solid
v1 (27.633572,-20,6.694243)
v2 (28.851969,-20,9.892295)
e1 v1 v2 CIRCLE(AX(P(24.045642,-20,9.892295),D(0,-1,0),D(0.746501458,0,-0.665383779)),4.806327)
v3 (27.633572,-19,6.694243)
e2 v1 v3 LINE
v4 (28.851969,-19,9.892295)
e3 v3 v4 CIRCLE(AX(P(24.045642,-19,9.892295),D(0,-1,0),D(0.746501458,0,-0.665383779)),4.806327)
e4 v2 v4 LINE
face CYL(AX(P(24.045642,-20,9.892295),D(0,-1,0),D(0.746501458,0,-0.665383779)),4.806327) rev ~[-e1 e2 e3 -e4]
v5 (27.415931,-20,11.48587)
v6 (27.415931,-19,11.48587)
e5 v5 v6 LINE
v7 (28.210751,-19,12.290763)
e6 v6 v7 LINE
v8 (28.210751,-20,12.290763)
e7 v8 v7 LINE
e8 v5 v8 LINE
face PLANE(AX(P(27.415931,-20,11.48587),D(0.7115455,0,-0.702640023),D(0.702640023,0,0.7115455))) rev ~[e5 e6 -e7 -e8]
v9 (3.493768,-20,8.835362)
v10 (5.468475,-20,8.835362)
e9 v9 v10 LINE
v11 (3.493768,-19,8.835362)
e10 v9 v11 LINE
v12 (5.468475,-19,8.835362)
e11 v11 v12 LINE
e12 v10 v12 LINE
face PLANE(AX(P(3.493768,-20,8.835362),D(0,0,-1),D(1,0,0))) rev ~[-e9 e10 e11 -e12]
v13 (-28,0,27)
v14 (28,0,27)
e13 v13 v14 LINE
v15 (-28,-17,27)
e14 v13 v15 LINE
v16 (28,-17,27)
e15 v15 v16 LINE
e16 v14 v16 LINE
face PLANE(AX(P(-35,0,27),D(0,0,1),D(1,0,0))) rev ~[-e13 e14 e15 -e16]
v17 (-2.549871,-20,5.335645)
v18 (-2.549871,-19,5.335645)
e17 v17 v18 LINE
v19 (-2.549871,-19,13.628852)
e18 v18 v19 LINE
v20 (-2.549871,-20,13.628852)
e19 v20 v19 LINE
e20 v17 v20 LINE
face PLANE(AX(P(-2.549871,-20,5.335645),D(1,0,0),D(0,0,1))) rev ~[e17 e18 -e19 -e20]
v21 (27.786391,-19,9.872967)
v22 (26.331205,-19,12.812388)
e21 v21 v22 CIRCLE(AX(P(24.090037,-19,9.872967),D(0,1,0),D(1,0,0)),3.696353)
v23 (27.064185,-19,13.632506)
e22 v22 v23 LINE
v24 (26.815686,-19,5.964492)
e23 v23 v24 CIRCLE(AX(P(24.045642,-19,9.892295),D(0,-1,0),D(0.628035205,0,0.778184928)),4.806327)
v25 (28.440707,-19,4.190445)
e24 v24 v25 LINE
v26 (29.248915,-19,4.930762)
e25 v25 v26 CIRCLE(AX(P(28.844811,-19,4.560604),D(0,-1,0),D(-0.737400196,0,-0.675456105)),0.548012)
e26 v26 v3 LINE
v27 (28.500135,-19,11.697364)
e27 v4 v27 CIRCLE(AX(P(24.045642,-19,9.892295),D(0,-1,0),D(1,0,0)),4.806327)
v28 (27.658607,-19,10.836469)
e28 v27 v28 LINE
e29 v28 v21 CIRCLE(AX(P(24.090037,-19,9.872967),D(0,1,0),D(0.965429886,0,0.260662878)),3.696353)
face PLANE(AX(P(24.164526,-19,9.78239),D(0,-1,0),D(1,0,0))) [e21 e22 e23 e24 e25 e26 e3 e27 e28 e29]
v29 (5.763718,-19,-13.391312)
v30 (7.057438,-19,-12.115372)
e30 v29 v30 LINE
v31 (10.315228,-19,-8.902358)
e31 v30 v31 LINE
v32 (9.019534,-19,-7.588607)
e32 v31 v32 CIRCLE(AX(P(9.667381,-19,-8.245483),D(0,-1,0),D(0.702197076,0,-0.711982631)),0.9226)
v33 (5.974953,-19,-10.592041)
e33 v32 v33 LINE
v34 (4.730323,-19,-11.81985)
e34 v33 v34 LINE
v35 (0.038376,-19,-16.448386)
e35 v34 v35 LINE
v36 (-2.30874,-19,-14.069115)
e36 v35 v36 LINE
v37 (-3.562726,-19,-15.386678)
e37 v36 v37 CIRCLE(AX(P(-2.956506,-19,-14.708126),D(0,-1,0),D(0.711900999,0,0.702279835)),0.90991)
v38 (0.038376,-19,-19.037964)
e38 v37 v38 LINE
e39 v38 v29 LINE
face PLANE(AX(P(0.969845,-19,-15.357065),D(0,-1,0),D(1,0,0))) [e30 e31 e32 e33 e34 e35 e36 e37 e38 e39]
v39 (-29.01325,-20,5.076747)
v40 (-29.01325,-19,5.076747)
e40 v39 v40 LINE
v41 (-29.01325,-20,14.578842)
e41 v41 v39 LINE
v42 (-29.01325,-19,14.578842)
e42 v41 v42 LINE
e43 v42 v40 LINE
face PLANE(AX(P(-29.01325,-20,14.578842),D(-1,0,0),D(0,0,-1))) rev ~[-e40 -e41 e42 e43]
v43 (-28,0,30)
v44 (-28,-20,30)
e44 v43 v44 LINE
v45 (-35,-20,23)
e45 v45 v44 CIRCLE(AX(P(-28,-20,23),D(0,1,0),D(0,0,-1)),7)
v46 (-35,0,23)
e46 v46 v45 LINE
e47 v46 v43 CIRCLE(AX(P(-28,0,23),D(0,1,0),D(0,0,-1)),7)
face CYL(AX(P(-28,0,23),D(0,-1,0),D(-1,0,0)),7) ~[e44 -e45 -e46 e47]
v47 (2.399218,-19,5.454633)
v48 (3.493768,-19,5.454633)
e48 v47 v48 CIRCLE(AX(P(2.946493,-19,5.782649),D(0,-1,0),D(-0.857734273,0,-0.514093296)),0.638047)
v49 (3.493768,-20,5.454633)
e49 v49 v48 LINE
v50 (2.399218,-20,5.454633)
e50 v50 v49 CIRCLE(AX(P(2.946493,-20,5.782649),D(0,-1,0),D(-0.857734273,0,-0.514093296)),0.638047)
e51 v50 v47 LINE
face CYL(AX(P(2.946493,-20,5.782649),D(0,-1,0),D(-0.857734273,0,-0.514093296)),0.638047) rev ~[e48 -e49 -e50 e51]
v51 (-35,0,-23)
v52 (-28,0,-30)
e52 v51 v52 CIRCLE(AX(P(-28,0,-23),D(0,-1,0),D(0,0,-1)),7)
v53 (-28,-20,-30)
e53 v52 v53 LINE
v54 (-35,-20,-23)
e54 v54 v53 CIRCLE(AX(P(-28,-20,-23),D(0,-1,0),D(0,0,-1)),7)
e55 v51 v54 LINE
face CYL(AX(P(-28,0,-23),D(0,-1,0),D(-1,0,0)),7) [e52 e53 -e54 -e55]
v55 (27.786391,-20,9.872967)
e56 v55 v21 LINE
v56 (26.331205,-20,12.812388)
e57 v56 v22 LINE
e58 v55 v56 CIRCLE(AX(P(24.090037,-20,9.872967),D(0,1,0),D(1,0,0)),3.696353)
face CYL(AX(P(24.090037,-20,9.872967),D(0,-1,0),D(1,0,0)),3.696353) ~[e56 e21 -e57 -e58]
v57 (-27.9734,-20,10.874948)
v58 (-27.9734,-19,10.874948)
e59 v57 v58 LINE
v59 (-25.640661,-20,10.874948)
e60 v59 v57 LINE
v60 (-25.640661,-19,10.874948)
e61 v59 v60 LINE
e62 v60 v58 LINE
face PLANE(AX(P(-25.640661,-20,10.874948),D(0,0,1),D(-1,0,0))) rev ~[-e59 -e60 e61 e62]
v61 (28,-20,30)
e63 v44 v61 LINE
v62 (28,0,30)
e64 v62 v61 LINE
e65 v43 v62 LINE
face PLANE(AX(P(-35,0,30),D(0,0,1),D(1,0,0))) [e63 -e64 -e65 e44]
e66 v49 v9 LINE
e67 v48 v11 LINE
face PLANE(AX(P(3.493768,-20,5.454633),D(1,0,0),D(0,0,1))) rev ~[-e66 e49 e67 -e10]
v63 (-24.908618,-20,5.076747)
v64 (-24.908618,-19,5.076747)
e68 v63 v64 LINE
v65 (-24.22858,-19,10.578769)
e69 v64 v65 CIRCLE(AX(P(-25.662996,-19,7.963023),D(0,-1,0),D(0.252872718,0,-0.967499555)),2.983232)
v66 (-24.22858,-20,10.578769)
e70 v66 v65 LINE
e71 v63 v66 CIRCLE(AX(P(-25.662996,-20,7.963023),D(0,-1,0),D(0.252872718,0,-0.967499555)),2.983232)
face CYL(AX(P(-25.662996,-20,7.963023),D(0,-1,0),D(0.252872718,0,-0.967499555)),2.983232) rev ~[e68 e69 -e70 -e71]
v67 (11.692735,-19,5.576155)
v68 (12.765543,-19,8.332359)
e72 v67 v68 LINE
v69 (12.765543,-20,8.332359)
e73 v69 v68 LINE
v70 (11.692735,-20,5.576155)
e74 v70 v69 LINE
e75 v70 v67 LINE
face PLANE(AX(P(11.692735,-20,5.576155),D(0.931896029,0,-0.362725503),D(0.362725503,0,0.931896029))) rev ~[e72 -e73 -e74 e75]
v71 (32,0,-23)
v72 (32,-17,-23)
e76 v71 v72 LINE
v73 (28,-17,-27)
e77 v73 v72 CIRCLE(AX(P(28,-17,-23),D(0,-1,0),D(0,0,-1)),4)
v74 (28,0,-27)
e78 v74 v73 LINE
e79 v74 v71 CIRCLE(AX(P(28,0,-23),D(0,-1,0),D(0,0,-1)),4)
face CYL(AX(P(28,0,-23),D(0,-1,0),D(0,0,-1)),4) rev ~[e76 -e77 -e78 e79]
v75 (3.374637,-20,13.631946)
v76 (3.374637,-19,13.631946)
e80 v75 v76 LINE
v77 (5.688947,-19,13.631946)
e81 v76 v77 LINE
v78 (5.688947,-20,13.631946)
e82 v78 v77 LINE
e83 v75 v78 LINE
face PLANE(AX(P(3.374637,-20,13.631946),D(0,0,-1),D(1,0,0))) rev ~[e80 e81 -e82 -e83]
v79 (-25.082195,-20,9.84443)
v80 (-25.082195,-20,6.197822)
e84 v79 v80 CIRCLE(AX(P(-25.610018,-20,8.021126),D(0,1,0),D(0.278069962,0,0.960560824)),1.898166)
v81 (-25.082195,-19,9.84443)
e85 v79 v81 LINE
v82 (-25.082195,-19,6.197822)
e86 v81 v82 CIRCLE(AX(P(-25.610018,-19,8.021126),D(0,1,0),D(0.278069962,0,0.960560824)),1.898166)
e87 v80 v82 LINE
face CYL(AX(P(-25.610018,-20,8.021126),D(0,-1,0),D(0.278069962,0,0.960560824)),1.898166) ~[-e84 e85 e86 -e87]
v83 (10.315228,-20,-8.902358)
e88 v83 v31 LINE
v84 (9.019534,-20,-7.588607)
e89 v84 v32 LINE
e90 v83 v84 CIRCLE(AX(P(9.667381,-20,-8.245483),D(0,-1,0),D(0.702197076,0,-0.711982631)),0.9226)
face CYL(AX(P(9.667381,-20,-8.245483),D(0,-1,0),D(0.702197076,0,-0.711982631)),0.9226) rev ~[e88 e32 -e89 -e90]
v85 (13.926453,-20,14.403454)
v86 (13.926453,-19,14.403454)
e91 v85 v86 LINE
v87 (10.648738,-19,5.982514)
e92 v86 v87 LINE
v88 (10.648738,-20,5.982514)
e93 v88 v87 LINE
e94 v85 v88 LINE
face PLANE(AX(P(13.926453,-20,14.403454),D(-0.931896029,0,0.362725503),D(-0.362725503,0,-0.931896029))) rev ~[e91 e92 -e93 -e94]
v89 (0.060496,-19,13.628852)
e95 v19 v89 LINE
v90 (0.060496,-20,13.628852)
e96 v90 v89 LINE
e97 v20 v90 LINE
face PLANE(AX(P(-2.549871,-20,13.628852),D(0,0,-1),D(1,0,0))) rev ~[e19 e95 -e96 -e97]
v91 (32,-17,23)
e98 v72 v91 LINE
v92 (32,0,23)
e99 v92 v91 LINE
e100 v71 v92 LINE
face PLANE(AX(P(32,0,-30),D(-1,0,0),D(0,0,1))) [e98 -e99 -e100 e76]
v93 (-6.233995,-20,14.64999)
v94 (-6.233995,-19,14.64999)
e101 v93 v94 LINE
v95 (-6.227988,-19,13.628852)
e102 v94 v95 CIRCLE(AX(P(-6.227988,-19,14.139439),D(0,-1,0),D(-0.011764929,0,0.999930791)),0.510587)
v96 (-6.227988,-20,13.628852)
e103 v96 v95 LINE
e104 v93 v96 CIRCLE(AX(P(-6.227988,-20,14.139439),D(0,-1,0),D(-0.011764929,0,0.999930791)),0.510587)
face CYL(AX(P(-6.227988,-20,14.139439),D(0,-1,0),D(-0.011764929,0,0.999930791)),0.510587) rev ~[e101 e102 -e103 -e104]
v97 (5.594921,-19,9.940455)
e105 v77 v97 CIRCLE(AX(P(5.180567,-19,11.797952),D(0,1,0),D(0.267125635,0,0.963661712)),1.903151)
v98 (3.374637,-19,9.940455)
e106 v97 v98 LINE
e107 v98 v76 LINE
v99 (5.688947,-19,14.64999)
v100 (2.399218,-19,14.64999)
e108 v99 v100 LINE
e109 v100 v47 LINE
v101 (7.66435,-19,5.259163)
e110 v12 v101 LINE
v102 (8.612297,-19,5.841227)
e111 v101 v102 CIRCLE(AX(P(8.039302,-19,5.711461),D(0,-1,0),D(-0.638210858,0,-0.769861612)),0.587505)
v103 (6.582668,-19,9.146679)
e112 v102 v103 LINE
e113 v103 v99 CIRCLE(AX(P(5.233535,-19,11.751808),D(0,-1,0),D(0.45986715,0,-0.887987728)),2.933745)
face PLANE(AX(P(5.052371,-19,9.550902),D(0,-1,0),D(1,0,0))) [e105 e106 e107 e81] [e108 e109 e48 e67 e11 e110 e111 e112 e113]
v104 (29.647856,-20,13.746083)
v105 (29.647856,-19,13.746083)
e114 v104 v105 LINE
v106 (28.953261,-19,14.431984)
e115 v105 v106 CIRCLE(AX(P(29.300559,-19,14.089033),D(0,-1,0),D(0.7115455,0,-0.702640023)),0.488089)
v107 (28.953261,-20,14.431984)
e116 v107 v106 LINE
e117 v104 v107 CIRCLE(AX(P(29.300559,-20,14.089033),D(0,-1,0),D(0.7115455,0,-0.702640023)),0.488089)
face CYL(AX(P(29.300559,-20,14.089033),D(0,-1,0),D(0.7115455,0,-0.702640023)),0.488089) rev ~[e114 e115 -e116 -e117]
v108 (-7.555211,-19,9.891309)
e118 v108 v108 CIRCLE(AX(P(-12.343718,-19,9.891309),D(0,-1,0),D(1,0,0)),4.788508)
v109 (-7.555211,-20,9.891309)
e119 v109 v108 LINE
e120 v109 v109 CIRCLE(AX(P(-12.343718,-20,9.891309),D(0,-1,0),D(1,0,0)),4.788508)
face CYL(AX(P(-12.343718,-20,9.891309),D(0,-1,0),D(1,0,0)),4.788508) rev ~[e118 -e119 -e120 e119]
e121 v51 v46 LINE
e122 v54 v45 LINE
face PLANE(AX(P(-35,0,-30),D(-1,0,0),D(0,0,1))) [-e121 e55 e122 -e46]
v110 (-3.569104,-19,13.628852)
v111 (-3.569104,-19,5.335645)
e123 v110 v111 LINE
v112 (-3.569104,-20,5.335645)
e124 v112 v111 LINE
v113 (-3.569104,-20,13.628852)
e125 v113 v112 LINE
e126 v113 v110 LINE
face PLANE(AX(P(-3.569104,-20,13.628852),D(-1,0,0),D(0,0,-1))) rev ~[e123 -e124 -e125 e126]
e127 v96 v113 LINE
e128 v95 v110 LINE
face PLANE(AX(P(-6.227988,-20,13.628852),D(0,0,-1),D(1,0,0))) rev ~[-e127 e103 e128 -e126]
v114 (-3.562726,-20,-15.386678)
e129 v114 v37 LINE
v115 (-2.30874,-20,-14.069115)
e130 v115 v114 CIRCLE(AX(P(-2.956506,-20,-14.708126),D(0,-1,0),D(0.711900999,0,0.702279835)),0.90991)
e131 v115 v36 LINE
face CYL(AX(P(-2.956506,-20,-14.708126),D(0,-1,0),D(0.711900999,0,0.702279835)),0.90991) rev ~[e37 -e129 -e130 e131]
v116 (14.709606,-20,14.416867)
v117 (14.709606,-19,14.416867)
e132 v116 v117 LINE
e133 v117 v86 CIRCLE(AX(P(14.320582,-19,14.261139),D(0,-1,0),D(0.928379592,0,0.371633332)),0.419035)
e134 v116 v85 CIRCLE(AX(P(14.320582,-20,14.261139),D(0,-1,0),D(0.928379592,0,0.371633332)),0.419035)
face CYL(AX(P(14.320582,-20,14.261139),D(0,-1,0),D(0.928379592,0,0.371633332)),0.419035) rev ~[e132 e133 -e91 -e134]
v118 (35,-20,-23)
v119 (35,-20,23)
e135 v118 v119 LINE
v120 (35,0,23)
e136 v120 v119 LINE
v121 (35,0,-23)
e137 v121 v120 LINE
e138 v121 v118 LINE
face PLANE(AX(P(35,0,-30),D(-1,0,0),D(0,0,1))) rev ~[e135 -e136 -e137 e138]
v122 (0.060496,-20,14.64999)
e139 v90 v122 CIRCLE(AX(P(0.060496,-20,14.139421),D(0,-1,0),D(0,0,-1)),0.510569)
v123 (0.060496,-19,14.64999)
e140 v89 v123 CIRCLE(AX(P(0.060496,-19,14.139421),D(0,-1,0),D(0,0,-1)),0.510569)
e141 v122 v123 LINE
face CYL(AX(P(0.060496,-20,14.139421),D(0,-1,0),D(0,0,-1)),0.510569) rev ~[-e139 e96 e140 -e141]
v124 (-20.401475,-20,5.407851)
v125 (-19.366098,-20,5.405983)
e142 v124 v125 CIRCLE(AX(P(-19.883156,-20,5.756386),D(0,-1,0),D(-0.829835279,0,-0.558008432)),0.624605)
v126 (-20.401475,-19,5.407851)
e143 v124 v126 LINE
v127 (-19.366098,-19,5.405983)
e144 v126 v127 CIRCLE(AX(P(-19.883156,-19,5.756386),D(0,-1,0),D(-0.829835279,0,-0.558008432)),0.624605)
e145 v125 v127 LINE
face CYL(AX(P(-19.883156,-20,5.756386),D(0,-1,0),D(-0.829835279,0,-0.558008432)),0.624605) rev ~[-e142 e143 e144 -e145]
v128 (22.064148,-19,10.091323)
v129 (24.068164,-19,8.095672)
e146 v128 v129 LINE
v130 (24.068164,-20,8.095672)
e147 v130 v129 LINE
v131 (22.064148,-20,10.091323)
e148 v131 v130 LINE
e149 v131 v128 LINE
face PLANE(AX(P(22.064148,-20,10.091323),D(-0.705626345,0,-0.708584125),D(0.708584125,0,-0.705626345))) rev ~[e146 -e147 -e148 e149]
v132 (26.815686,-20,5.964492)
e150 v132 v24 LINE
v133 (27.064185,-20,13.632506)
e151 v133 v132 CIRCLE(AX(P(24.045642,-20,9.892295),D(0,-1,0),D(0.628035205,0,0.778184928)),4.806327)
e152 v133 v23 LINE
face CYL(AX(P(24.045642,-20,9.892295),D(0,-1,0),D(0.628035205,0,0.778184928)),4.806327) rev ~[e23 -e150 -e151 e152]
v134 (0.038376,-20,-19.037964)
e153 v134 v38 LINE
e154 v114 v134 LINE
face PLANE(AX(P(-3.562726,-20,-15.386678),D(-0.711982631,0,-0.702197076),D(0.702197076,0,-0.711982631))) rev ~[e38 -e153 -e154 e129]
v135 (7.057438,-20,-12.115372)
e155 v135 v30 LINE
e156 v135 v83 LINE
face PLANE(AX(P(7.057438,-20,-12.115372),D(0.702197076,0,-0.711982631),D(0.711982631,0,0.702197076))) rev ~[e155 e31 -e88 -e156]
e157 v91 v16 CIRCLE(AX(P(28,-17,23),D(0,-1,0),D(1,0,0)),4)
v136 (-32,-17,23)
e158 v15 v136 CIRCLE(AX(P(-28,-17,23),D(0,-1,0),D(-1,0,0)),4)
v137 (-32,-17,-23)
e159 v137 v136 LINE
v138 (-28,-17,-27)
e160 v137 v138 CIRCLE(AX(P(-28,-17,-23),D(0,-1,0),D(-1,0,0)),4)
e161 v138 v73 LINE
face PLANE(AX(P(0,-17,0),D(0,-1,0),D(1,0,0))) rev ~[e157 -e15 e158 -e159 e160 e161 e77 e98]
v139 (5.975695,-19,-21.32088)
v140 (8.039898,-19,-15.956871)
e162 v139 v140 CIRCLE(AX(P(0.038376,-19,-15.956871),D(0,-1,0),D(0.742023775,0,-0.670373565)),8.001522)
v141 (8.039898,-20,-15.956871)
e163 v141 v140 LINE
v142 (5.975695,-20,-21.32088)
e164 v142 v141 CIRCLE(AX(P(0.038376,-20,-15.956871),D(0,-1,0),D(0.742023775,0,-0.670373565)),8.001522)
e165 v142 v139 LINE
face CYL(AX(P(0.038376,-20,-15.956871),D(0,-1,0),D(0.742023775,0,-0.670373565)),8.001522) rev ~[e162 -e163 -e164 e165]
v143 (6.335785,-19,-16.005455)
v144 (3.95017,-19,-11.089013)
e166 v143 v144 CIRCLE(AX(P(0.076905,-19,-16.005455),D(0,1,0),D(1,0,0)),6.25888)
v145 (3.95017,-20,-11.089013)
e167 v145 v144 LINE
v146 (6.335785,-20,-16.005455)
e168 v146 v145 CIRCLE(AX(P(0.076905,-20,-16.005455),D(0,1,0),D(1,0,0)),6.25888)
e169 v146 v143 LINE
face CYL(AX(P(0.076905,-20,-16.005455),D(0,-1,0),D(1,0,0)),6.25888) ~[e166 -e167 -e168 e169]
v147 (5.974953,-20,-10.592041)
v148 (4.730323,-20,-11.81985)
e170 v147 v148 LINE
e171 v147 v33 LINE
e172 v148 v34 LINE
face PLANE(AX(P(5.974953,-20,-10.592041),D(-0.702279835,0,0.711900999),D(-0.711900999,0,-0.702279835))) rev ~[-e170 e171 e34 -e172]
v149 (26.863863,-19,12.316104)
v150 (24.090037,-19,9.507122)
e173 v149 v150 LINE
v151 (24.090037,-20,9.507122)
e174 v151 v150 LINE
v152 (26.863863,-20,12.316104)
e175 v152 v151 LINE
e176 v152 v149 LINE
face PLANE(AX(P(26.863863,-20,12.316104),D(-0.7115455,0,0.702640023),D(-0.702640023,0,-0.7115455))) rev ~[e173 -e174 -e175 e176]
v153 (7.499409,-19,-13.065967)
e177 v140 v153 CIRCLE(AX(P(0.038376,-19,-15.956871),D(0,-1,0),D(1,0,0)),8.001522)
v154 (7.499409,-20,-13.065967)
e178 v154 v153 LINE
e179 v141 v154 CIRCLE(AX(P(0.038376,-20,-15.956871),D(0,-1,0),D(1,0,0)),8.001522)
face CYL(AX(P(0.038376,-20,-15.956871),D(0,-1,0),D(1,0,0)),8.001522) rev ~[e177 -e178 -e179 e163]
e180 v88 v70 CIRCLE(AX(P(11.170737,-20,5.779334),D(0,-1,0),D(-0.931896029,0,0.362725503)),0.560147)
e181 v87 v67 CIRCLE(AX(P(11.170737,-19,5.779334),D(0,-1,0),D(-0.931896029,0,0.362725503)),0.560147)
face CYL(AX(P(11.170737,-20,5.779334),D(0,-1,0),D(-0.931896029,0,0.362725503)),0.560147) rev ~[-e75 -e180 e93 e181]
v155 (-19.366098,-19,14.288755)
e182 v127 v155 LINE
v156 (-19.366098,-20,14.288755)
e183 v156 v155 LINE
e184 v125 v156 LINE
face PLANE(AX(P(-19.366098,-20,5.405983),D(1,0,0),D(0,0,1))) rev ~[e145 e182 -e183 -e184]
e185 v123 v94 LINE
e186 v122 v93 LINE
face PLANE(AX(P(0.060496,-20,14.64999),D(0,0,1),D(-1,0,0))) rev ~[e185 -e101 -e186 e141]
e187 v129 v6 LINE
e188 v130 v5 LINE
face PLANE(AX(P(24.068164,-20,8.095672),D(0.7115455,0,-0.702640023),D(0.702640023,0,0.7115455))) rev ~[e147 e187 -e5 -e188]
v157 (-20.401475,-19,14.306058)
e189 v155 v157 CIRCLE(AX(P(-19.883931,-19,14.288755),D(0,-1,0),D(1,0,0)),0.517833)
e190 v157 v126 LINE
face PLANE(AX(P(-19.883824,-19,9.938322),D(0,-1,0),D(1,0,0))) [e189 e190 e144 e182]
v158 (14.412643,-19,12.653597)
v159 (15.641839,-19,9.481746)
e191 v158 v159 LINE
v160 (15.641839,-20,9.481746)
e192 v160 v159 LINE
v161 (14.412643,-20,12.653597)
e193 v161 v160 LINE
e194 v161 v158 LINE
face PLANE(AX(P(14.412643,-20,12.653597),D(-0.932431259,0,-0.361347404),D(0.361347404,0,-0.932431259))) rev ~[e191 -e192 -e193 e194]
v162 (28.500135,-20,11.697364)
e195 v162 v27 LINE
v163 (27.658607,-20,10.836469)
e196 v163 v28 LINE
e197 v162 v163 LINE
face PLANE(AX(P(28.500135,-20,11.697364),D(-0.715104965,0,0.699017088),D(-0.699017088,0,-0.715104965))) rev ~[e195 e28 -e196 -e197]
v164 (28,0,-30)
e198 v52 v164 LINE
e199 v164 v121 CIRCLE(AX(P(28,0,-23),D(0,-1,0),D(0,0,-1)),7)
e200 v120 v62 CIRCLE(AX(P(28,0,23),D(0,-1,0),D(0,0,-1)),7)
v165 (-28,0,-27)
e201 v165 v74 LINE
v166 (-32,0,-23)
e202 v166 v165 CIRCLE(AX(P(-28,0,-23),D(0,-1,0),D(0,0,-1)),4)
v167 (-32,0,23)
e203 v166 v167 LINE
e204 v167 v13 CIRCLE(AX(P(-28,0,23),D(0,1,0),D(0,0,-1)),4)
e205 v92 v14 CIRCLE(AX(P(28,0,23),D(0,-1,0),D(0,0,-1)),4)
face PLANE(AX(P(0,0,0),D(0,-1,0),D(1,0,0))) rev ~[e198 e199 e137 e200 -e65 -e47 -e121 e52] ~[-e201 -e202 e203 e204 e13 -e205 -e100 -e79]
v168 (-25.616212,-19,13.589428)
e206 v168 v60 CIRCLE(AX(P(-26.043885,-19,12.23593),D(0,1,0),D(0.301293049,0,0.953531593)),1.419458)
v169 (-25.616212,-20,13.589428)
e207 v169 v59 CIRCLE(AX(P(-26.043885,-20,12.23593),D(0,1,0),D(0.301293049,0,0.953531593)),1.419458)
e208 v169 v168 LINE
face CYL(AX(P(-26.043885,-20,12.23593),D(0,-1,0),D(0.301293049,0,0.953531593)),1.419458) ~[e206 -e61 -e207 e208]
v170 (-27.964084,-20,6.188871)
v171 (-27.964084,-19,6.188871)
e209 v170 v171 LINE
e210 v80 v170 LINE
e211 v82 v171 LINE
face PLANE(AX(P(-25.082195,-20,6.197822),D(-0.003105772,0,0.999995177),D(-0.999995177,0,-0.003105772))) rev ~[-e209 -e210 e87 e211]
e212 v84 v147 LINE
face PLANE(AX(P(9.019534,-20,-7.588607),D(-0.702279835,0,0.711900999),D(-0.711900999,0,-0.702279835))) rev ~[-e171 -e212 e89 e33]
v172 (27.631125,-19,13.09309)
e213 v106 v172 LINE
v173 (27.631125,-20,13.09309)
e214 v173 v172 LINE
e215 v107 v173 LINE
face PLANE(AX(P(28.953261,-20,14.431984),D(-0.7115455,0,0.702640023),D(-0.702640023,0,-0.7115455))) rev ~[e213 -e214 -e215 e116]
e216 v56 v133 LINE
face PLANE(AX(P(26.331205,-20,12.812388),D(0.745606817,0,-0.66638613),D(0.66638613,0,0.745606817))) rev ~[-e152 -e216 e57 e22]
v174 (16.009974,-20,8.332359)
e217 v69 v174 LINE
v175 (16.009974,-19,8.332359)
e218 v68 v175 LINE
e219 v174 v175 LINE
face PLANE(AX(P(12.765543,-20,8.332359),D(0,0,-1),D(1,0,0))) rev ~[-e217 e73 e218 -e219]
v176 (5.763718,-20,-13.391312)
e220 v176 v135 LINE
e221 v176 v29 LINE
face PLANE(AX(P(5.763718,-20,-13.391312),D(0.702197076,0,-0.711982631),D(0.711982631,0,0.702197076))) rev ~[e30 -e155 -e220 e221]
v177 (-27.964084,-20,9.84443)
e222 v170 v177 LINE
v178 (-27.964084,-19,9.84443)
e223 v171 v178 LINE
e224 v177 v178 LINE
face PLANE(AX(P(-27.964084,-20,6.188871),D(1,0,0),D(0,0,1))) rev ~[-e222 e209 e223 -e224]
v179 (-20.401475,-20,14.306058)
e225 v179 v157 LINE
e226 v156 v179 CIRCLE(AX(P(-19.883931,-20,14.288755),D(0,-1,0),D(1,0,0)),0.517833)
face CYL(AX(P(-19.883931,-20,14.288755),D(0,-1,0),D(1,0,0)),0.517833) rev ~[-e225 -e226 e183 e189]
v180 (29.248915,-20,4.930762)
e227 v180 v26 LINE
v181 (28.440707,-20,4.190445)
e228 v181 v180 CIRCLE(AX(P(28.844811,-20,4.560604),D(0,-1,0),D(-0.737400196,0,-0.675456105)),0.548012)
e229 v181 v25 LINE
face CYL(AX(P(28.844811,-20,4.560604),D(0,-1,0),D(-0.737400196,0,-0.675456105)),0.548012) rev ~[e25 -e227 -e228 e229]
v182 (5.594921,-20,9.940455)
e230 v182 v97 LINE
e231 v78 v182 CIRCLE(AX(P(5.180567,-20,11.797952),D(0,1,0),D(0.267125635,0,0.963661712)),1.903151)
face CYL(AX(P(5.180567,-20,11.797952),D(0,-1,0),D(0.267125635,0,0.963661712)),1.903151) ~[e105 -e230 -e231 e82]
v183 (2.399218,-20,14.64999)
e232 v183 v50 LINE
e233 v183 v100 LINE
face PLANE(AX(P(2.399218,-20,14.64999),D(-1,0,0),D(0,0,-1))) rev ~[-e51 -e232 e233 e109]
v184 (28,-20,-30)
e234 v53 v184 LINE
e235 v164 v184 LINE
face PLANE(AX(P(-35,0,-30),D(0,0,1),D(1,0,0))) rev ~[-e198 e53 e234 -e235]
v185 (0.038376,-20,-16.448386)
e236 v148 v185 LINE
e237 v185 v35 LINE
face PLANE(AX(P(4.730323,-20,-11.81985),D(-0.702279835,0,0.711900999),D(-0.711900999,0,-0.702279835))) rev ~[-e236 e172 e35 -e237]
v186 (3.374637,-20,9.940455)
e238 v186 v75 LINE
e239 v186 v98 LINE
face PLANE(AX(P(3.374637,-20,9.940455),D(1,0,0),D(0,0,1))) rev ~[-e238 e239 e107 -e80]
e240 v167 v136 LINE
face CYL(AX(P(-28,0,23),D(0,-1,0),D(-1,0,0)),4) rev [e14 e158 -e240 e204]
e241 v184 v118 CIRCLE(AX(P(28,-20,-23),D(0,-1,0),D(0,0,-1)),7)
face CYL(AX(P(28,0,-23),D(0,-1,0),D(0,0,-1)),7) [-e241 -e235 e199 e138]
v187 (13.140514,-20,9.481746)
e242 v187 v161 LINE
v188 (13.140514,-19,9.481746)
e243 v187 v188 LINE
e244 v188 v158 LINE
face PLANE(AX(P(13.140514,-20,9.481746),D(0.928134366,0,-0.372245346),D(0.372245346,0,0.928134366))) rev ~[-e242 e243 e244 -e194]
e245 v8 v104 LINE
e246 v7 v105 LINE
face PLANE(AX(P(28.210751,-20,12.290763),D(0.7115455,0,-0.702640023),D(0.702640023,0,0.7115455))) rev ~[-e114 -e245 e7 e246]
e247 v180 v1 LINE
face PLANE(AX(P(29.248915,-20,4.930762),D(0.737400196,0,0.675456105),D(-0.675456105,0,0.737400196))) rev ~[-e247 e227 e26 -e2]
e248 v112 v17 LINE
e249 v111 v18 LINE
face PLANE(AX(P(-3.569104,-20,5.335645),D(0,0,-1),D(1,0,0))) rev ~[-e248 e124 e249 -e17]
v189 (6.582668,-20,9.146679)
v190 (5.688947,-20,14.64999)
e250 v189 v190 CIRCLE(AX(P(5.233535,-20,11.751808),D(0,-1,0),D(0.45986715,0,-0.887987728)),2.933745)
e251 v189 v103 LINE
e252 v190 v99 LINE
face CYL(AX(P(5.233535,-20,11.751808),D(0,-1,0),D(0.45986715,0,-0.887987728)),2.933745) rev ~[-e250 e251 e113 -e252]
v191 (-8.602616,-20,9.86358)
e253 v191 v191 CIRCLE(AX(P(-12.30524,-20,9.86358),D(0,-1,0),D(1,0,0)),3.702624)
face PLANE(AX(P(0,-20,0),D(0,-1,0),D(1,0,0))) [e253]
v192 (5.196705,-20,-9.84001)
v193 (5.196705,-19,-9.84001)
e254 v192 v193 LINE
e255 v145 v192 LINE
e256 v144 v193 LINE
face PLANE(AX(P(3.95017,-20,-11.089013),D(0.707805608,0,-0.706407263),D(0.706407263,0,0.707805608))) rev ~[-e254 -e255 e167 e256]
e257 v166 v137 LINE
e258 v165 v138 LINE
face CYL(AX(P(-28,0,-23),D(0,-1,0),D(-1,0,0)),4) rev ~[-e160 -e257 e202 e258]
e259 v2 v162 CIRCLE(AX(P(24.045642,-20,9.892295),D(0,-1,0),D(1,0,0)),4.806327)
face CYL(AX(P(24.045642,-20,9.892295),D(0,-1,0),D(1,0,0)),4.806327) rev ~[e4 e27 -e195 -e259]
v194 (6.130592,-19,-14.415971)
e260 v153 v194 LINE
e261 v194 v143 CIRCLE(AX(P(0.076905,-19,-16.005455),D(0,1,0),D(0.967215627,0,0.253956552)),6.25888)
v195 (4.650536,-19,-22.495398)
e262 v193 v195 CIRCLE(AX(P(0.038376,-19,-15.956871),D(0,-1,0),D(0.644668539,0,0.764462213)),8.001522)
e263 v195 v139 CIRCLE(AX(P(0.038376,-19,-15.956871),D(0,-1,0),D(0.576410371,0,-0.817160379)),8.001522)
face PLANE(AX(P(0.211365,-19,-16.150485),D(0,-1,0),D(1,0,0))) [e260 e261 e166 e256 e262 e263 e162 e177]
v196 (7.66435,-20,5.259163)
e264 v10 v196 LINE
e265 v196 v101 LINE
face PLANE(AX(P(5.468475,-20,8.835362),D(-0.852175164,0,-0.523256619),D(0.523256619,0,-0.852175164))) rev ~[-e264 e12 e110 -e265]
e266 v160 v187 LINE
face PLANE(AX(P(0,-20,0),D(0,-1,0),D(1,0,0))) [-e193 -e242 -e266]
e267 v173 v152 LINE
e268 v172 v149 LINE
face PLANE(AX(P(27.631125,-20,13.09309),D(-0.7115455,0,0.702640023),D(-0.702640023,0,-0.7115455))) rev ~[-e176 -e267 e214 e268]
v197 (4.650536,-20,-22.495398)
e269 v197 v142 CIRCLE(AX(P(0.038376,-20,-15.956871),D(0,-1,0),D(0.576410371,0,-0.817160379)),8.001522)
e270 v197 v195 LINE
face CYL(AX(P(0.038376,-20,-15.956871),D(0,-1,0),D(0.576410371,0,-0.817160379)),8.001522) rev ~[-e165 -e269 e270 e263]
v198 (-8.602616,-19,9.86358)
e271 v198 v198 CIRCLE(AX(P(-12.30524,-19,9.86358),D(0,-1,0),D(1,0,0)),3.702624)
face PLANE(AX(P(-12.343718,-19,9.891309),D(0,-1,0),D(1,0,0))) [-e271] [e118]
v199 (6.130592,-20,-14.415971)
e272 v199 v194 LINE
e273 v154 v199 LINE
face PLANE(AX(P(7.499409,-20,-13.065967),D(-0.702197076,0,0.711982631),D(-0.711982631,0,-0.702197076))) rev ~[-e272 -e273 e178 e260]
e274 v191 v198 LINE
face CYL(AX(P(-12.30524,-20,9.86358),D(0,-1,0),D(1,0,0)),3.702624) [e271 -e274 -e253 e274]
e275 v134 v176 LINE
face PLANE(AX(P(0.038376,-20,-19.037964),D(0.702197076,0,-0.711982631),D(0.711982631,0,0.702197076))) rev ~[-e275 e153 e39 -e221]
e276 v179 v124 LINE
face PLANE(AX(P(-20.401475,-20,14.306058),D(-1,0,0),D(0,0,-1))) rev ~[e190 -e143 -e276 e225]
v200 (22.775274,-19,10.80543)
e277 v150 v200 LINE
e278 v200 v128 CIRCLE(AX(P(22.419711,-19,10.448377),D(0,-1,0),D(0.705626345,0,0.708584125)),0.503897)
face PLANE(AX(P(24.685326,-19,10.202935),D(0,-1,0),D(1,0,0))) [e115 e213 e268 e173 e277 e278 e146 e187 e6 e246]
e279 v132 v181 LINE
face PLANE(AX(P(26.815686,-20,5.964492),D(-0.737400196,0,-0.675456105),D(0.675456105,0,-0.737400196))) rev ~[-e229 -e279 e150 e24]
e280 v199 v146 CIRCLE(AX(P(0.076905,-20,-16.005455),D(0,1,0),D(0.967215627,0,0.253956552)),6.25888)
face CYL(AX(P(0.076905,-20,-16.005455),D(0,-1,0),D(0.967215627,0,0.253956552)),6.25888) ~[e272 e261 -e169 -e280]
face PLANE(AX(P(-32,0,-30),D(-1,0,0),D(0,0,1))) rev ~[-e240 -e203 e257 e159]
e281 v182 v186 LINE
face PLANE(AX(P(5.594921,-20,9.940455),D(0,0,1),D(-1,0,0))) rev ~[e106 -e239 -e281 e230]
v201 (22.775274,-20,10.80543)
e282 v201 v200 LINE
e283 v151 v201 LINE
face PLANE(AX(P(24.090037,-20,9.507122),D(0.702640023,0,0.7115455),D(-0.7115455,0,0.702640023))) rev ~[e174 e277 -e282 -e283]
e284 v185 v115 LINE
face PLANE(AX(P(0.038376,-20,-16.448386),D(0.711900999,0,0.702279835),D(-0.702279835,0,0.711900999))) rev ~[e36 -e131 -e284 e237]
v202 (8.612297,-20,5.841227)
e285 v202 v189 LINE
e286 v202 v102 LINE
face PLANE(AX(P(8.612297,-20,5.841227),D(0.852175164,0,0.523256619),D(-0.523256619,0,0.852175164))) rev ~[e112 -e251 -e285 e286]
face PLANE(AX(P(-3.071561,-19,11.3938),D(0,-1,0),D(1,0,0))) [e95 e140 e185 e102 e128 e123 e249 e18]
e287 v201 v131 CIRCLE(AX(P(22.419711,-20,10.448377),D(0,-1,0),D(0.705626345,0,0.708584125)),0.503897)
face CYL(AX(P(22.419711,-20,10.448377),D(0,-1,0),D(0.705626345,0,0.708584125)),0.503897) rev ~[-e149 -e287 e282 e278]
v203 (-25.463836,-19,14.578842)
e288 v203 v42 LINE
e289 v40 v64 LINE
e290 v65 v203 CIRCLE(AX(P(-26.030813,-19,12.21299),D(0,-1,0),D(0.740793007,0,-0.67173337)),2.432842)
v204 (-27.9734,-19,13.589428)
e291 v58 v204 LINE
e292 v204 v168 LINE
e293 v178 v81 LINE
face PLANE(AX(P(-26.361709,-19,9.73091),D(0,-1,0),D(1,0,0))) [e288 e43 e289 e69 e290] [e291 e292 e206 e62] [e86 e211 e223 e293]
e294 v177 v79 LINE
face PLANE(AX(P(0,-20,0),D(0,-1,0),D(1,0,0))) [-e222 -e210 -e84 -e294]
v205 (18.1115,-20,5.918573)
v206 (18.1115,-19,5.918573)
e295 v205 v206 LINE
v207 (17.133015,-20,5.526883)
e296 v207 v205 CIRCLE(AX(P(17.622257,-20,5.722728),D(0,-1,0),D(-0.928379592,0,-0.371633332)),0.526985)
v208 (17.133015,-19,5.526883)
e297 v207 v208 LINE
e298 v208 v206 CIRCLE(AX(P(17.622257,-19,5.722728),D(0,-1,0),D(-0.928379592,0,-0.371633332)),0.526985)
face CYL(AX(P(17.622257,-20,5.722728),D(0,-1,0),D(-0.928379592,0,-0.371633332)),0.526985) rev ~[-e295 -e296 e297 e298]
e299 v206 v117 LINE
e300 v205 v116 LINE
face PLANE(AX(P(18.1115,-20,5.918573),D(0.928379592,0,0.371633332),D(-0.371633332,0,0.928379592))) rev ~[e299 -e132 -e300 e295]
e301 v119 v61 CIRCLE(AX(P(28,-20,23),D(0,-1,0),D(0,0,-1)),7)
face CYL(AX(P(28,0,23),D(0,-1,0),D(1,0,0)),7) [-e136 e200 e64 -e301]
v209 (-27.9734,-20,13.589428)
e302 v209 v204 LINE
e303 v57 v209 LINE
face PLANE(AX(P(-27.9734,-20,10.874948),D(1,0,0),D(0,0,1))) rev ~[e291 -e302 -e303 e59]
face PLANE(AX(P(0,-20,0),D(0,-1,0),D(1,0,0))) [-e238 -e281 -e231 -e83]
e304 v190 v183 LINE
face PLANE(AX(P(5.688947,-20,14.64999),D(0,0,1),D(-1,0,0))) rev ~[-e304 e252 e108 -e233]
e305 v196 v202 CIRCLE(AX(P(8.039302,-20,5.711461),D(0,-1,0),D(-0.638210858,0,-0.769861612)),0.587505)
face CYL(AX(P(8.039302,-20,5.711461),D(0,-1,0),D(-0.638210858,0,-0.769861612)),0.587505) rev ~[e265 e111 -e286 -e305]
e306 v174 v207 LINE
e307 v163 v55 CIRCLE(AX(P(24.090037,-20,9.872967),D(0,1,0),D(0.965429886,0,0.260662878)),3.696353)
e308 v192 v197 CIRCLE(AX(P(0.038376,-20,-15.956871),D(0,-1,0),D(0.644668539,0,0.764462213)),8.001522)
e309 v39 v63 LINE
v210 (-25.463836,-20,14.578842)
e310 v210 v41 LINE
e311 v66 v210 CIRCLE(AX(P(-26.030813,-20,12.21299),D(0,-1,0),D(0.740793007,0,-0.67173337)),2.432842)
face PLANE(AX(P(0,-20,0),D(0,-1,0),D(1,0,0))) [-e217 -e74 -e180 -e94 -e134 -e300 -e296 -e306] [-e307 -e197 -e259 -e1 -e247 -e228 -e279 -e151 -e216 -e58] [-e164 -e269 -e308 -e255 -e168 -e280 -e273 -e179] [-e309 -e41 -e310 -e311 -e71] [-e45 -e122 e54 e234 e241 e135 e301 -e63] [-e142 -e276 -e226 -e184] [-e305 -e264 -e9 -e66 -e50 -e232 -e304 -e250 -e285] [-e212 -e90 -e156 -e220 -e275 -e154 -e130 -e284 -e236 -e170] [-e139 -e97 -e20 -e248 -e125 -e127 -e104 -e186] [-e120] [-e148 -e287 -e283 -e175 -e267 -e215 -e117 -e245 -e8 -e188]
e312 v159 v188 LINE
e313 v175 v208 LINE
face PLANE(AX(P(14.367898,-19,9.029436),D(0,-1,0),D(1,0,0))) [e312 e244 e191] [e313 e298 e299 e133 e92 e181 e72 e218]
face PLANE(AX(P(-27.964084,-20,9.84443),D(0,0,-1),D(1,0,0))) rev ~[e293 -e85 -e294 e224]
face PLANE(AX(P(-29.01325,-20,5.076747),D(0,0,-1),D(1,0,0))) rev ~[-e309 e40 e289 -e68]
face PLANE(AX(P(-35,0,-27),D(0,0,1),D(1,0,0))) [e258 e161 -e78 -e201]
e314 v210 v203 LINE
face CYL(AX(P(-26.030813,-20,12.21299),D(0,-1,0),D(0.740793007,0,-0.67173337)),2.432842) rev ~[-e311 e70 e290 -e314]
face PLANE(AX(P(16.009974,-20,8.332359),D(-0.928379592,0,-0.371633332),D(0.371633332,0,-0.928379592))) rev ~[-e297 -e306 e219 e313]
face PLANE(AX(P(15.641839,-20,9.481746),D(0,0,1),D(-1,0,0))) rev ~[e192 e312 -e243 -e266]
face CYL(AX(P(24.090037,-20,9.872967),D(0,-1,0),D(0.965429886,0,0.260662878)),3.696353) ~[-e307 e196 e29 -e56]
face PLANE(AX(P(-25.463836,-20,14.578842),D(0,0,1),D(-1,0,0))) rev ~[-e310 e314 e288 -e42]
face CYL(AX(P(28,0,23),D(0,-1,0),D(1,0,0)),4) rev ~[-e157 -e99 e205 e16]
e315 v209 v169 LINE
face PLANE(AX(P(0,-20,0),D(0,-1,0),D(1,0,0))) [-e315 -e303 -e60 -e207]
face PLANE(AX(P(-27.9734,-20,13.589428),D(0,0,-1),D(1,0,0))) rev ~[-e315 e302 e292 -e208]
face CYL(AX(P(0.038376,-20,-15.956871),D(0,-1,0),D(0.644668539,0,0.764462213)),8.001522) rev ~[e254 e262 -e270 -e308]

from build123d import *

# Parameters (mm, degrees)
F0_W     = 70
F0_H     = 60
F1_DEPTH = 20
F2_R     = 7
F3_T     = -3
F4_R     = 4.7885075057
F4_R_2   = 3.7026235456
F5_DEPTH = 1


with BuildPart() as f1:
    # F0 (on Front) → F1 (new body)
    with BuildSketch(Plane.XZ):
        Rectangle(F0_W, F0_H)
    extrude(amount=F1_DEPTH)

    # F2
    f2_edges = [f1.edges().sort_by_distance(p)[0] for p in [
        (35, -10, -30),
        (-35, -10, -30),
        (35, -10, 30),
        (-35, -10, 30),
    ]]
    fillet(f2_edges, radius=F2_R)

    # F3
    f3_openings = [f1.faces().sort_by_distance(p)[0] for p in [
        (0, 0, 0),
    ]]
    offset(amount=F3_T, openings=f3_openings)

    # F4 (on face) → F5 (cut)
    with BuildSketch(Plane.XZ.offset(20)):
        with BuildLine():
            ThreePointArc((5.9756954083, -21.3208798361), (7.5060376285, -18.8306109679), (8.0398977368, -15.9568712908))
            ThreePointArc((8.0398977368, -15.9568712908), (7.9036150749, -14.4863732956), (7.4994094473, -13.0659666184))
            Line((7.4994094473, -13.0659666184), (6.1305917901, -14.4159711191))
            ThreePointArc((6.1305917901, -14.4159711191), (6.2842749217, -15.2041179655), (6.3357852508, -16.0054547502))
            ThreePointArc((6.3357852508, -16.0054547502), (-5.5540754685, -18.7377869694), (3.9501702088, -11.0890131208))
            Line((3.9501702088, -11.0890131208), (5.196705387, -9.840010404))
            ThreePointArc((5.196705387, -9.840010404), (-7.9557042611, -15.6118703464), (4.6505361801, -22.4953976897))
            ThreePointArc((4.6505361801, -22.4953976897), (5.3457061154, -21.9449090553), (5.9756954083, -21.3208798361))
        make_face()
        with BuildLine():
            Line((0.0383761635, -19.0379637991), (5.7637177193, -13.3913118671))
            ThreePointArc((5.7637177193, -13.3913118671), (5.3063853455, -12.5665425426), (4.7303228045, -11.8198503118))
            Line((4.7303228045, -11.8198503118), (0.0383761635, -16.4483864674))
            Line((0.0383761635, -16.4483864674), (-2.3087403007, -14.0691147408))
            ThreePointArc((-2.3087403007, -14.0691147408), (-3.6156147651, -14.0808212911), (-3.5627264086, -15.386677612))
            Line((-3.5627264086, -15.386677612), (0.0383761635, -19.0379637991))
        make_face()
        with BuildLine():
            Line((5.7637177193, -13.3913118671), (7.0574382874, -12.1153723141))
            ThreePointArc((7.0574382874, -12.1153723141), (6.5608204438, -11.3219960932), (5.9749529426, -10.5920410388))
            Line((5.9749529426, -10.5920410388), (4.7303228045, -11.8198503118))
            ThreePointArc((4.7303228045, -11.8198503118), (5.3063853455, -12.5665425426), (5.7637177193, -13.3913118671))
        make_face()
        with BuildLine():
            ThreePointArc((5.9749529426, -10.5920410388), (6.5608204438, -11.3219960932), (7.0574382874, -12.1153723141))
            Line((7.0574382874, -12.1153723141), (10.3152280376, -8.9023579275))
            ThreePointArc((10.3152280376, -8.9023579275), (10.3242561937, -7.5976353085), (9.0195335747, -7.5886071525))
            Line((9.0195335747, -7.5886071525), (5.9749529426, -10.5920410388))
        make_face()
        with BuildLine():
            Line((-25.463836038, 14.5788419077), (-29.0132504877, 14.5788419077))
            Line((-29.0132504877, 14.5788419077), (-29.0132504877, 5.0767470373))
            Line((-29.0132504877, 5.0767470373), (-24.9086179807, 5.0767470373))
            ThreePointArc((-24.9086179807, 5.0767470373), (-22.7022924412, 7.5970867281), (-24.2285804935, 10.5787690258))
            ThreePointArc((-24.2285804935, 10.5787690258), (-23.7062839611, 12.9308235072), (-25.463836038, 14.5788419077))
        make_face()
        with BuildLine():
            Line((-27.9734000776, 10.8749483858), (-27.9734000776, 13.5894283968))
            Line((-27.9734000776, 13.5894283968), (-25.6162118383, 13.5894283968))
            ThreePointArc((-25.6162118383, 13.5894283968), (-24.6244842165, 12.2231458353), (-25.6406610471, 10.8749483858))
            Line((-25.6406610471, 10.8749483858), (-27.9734000776, 10.8749483858))
        make_face(mode=Mode.SUBTRACT)
        with BuildLine():
            Line((-27.9640843056, 9.8444300713), (-25.0821946304, 9.8444300713))
            ThreePointArc((-25.0821946304, 9.8444300713), (-23.7118512956, 8.0211258), (-25.0821946304, 6.1978215287))
            Line((-25.0821946304, 6.1978215287), (-27.9640843056, 6.188870993))
            Line((-27.9640843056, 6.188870993), (-27.9640843056, 9.8444300713))
        make_face(mode=Mode.SUBTRACT)
        with BuildLine():
            ThreePointArc((-19.3660976033, 14.2887552617), (-19.8752782584, 14.8065162395), (-20.40147499, 14.30605808))
            Line((-20.40147499, 14.30605808), (-20.40147499, 5.4078511567))
            ThreePointArc((-20.40147499, 5.4078511567), (-19.884282799, 5.1317819915), (-19.3660976033, 5.405982738))
            Line((-19.3660976033, 5.405982738), (-19.3660976033, 14.2887552617))
        make_face()
        with Locations((-12.3437182241, 9.891309084)):
            Circle(F4_R)
        with Locations((-12.3052396193, 9.8635797819)):
            Circle(F4_R_2, mode=Mode.SUBTRACT)
        Polygon((0.060495557, 14.6499899539), (-6.2339946938, 14.6499899539), (-6.2279876776, 13.6288518889), (-3.5691043968, 13.6288518889), (-3.5691043968, 5.3356449452), (-2.5498712742, 5.3356449452), (-2.5498712742, 13.6288518889), (0.060495557, 13.6288518889), align=None)
        with BuildLine():
            ThreePointArc((0.060495557, 13.6288518889), (0.5710645895, 14.1394209214), (0.060495557, 14.6499899539))
            Line((0.060495557, 14.6499899539), (0.060495557, 13.6288518889))
        make_face()
        with BuildLine():
            Line((-6.2279876776, 13.6288518889), (-6.2339946938, 14.6499899539))
            ThreePointArc((-6.2339946938, 14.6499899539), (-6.7385655444, 14.13643503), (-6.2279876776, 13.6288518889))
        make_face()
        with BuildLine():
            Line((5.68894728, 14.6499899539), (2.3992179348, 14.6499899539))
            Line((2.3992179348, 14.6499899539), (2.3992179348, 5.4546332436))
            ThreePointArc((2.3992179348, 5.4546332436), (2.9464930191, 5.1446017563), (3.4937681035, 5.4546332436))
            Line((3.4937681035, 5.4546332436), (3.4937681035, 8.8353623544))
            Line((3.4937681035, 8.8353623544), (5.4684750956, 8.8353623544))
            Line((5.4684750956, 8.8353623544), (7.6643496496, 5.2591634276))
            ThreePointArc((7.6643496496, 5.2591634276), (8.3467179976, 5.2108037756), (8.6122971182, 5.8412266091))
            Line((8.6122971182, 5.8412266091), (6.5826675849, 9.1466790748))
            ThreePointArc((6.5826675849, 9.1466790748), (8.1293427353, 12.2220783511), (5.68894728, 14.6499899539))
        make_face()
        with BuildLine():
            ThreePointArc((5.68894728, 13.6319459919), (7.0831009819, 11.7494924749), (5.5949211536, 9.9404549997))
            Line((5.5949211536, 9.9404549997), (3.3746365671, 9.9404549997))
            Line((3.3746365671, 9.9404549997), (3.3746365671, 13.6319459919))
            Line((3.3746365671, 13.6319459919), (5.68894728, 13.6319459919))
        make_face(mode=Mode.SUBTRACT)
        with BuildLine():
            ThreePointArc((14.7096056189, 14.4168665306), (14.3134062852, 14.6801129854), (13.9264534318, 14.4034541752))
            Line((13.9264534318, 14.4034541752), (10.6487381189, 5.9825136642))
            ThreePointArc((10.6487381189, 5.9825136642), (10.9675570687, 5.2573357806), (11.6927349523, 5.5761547304))
            Line((11.6927349523, 5.5761547304), (12.7655428348, 8.3323585177))
            Line((12.7655428348, 8.3323585177), (16.0099739306, 8.3323585177))
            Line((16.0099739306, 8.3323585177), (17.1330149852, 5.5268825081))
            ThreePointArc((17.1330149852, 5.5268825081), (17.8181026735, 5.2334854183), (18.1114997633, 5.9185731066))
            Line((18.1114997633, 5.9185731066), (14.7096056189, 14.4168665306))
        make_face()
        Polygon((13.1405137187, 9.48174586), (14.4126430381, 12.6535973069), (15.6418385154, 9.48174586), align=None, mode=Mode.SUBTRACT)
        with BuildLine():
            ThreePointArc((27.6586074546, 10.8364686124), (27.7543057203, 10.3589358747), (27.7863908123, 9.8729665129))
            ThreePointArc((27.7863908123, 9.8729665129), (20.7773970324, 8.2330148821), (26.3312045231, 12.8123879303))
            Line((26.3312045231, 12.8123879303), (27.0641849046, 13.6325057938))
            ThreePointArc((27.0641849046, 13.6325057938), (19.2418374627, 10.0479724553), (26.81568619, 5.9644918061))
            ThreePointArc((26.81568619, 5.9644918061), (27.2455005085, 6.3059753785), (27.6335724386, 6.6942427552))
            ThreePointArc((27.6335724386, 6.6942427552), (28.5370532464, 8.1811527366), (28.851969289, 9.8922946796))
            ThreePointArc((28.851969289, 9.8922946796), (28.7631907726, 10.8118138528), (28.5001349107, 11.6973638223))
            Line((28.5001349107, 11.6973638223), (27.6586074546, 10.8364686124))
        make_face()
        with BuildLine():
            Line((24.0681641205, 8.0956717688), (27.4159314963, 11.4858697823))
            ThreePointArc((27.4159314963, 11.4858697823), (27.1680184196, 11.9196861576), (26.8638629672, 12.316103869))
            Line((26.8638629672, 12.316103869), (24.0900374708, 9.5071220515))
            Line((24.0900374708, 9.5071220515), (22.775273925, 10.8054304358))
            ThreePointArc((22.775273925, 10.8054304358), (22.0626570945, 10.8039400184), (22.0641475119, 10.0913231879))
            Line((22.0641475119, 10.0913231879), (24.0681641205, 8.0956717688))
        make_face()
        with BuildLine():
            ThreePointArc((27.6335724386, 6.6942427552), (27.2455005085, 6.3059753785), (26.81568619, 5.9644918061))
            Line((26.81568619, 5.9644918061), (28.4407067429, 4.1904454021))
            ThreePointArc((28.4407067429, 4.1904454021), (29.214969102, 4.1564992903), (29.2489152138, 4.9307616493))
            Line((29.2489152138, 4.9307616493), (27.6335724386, 6.6942427552))
        make_face()
        with BuildLine():
            ThreePointArc((27.6311249444, 13.0930903614), (27.9416464389, 12.7068871234), (28.2107508353, 12.2907629071))
            Line((28.2107508353, 12.2907629071), (29.647856175, 13.7460825638))
            ThreePointArc((29.647856175, 13.7460825638), (29.6435095117, 14.4363306609), (28.9532614146, 14.4319839976))
            Line((28.9532614146, 14.4319839976), (27.6311249444, 13.0930903614))
        make_face()
        with BuildLine():
            ThreePointArc((26.8638629672, 12.316103869), (27.1680184196, 11.9196861576), (27.4159314963, 11.4858697823))
            Line((27.4159314963, 11.4858697823), (28.2107508353, 12.2907629071))
            ThreePointArc((28.2107508353, 12.2907629071), (27.9416464389, 12.7068871234), (27.6311249444, 13.0930903614))
            Line((27.6311249444, 13.0930903614), (26.8638629672, 12.316103869))
        make_face()
    extrude(amount=-F5_DEPTH, mode=Mode.SUBTRACT)


solid = f1.part
